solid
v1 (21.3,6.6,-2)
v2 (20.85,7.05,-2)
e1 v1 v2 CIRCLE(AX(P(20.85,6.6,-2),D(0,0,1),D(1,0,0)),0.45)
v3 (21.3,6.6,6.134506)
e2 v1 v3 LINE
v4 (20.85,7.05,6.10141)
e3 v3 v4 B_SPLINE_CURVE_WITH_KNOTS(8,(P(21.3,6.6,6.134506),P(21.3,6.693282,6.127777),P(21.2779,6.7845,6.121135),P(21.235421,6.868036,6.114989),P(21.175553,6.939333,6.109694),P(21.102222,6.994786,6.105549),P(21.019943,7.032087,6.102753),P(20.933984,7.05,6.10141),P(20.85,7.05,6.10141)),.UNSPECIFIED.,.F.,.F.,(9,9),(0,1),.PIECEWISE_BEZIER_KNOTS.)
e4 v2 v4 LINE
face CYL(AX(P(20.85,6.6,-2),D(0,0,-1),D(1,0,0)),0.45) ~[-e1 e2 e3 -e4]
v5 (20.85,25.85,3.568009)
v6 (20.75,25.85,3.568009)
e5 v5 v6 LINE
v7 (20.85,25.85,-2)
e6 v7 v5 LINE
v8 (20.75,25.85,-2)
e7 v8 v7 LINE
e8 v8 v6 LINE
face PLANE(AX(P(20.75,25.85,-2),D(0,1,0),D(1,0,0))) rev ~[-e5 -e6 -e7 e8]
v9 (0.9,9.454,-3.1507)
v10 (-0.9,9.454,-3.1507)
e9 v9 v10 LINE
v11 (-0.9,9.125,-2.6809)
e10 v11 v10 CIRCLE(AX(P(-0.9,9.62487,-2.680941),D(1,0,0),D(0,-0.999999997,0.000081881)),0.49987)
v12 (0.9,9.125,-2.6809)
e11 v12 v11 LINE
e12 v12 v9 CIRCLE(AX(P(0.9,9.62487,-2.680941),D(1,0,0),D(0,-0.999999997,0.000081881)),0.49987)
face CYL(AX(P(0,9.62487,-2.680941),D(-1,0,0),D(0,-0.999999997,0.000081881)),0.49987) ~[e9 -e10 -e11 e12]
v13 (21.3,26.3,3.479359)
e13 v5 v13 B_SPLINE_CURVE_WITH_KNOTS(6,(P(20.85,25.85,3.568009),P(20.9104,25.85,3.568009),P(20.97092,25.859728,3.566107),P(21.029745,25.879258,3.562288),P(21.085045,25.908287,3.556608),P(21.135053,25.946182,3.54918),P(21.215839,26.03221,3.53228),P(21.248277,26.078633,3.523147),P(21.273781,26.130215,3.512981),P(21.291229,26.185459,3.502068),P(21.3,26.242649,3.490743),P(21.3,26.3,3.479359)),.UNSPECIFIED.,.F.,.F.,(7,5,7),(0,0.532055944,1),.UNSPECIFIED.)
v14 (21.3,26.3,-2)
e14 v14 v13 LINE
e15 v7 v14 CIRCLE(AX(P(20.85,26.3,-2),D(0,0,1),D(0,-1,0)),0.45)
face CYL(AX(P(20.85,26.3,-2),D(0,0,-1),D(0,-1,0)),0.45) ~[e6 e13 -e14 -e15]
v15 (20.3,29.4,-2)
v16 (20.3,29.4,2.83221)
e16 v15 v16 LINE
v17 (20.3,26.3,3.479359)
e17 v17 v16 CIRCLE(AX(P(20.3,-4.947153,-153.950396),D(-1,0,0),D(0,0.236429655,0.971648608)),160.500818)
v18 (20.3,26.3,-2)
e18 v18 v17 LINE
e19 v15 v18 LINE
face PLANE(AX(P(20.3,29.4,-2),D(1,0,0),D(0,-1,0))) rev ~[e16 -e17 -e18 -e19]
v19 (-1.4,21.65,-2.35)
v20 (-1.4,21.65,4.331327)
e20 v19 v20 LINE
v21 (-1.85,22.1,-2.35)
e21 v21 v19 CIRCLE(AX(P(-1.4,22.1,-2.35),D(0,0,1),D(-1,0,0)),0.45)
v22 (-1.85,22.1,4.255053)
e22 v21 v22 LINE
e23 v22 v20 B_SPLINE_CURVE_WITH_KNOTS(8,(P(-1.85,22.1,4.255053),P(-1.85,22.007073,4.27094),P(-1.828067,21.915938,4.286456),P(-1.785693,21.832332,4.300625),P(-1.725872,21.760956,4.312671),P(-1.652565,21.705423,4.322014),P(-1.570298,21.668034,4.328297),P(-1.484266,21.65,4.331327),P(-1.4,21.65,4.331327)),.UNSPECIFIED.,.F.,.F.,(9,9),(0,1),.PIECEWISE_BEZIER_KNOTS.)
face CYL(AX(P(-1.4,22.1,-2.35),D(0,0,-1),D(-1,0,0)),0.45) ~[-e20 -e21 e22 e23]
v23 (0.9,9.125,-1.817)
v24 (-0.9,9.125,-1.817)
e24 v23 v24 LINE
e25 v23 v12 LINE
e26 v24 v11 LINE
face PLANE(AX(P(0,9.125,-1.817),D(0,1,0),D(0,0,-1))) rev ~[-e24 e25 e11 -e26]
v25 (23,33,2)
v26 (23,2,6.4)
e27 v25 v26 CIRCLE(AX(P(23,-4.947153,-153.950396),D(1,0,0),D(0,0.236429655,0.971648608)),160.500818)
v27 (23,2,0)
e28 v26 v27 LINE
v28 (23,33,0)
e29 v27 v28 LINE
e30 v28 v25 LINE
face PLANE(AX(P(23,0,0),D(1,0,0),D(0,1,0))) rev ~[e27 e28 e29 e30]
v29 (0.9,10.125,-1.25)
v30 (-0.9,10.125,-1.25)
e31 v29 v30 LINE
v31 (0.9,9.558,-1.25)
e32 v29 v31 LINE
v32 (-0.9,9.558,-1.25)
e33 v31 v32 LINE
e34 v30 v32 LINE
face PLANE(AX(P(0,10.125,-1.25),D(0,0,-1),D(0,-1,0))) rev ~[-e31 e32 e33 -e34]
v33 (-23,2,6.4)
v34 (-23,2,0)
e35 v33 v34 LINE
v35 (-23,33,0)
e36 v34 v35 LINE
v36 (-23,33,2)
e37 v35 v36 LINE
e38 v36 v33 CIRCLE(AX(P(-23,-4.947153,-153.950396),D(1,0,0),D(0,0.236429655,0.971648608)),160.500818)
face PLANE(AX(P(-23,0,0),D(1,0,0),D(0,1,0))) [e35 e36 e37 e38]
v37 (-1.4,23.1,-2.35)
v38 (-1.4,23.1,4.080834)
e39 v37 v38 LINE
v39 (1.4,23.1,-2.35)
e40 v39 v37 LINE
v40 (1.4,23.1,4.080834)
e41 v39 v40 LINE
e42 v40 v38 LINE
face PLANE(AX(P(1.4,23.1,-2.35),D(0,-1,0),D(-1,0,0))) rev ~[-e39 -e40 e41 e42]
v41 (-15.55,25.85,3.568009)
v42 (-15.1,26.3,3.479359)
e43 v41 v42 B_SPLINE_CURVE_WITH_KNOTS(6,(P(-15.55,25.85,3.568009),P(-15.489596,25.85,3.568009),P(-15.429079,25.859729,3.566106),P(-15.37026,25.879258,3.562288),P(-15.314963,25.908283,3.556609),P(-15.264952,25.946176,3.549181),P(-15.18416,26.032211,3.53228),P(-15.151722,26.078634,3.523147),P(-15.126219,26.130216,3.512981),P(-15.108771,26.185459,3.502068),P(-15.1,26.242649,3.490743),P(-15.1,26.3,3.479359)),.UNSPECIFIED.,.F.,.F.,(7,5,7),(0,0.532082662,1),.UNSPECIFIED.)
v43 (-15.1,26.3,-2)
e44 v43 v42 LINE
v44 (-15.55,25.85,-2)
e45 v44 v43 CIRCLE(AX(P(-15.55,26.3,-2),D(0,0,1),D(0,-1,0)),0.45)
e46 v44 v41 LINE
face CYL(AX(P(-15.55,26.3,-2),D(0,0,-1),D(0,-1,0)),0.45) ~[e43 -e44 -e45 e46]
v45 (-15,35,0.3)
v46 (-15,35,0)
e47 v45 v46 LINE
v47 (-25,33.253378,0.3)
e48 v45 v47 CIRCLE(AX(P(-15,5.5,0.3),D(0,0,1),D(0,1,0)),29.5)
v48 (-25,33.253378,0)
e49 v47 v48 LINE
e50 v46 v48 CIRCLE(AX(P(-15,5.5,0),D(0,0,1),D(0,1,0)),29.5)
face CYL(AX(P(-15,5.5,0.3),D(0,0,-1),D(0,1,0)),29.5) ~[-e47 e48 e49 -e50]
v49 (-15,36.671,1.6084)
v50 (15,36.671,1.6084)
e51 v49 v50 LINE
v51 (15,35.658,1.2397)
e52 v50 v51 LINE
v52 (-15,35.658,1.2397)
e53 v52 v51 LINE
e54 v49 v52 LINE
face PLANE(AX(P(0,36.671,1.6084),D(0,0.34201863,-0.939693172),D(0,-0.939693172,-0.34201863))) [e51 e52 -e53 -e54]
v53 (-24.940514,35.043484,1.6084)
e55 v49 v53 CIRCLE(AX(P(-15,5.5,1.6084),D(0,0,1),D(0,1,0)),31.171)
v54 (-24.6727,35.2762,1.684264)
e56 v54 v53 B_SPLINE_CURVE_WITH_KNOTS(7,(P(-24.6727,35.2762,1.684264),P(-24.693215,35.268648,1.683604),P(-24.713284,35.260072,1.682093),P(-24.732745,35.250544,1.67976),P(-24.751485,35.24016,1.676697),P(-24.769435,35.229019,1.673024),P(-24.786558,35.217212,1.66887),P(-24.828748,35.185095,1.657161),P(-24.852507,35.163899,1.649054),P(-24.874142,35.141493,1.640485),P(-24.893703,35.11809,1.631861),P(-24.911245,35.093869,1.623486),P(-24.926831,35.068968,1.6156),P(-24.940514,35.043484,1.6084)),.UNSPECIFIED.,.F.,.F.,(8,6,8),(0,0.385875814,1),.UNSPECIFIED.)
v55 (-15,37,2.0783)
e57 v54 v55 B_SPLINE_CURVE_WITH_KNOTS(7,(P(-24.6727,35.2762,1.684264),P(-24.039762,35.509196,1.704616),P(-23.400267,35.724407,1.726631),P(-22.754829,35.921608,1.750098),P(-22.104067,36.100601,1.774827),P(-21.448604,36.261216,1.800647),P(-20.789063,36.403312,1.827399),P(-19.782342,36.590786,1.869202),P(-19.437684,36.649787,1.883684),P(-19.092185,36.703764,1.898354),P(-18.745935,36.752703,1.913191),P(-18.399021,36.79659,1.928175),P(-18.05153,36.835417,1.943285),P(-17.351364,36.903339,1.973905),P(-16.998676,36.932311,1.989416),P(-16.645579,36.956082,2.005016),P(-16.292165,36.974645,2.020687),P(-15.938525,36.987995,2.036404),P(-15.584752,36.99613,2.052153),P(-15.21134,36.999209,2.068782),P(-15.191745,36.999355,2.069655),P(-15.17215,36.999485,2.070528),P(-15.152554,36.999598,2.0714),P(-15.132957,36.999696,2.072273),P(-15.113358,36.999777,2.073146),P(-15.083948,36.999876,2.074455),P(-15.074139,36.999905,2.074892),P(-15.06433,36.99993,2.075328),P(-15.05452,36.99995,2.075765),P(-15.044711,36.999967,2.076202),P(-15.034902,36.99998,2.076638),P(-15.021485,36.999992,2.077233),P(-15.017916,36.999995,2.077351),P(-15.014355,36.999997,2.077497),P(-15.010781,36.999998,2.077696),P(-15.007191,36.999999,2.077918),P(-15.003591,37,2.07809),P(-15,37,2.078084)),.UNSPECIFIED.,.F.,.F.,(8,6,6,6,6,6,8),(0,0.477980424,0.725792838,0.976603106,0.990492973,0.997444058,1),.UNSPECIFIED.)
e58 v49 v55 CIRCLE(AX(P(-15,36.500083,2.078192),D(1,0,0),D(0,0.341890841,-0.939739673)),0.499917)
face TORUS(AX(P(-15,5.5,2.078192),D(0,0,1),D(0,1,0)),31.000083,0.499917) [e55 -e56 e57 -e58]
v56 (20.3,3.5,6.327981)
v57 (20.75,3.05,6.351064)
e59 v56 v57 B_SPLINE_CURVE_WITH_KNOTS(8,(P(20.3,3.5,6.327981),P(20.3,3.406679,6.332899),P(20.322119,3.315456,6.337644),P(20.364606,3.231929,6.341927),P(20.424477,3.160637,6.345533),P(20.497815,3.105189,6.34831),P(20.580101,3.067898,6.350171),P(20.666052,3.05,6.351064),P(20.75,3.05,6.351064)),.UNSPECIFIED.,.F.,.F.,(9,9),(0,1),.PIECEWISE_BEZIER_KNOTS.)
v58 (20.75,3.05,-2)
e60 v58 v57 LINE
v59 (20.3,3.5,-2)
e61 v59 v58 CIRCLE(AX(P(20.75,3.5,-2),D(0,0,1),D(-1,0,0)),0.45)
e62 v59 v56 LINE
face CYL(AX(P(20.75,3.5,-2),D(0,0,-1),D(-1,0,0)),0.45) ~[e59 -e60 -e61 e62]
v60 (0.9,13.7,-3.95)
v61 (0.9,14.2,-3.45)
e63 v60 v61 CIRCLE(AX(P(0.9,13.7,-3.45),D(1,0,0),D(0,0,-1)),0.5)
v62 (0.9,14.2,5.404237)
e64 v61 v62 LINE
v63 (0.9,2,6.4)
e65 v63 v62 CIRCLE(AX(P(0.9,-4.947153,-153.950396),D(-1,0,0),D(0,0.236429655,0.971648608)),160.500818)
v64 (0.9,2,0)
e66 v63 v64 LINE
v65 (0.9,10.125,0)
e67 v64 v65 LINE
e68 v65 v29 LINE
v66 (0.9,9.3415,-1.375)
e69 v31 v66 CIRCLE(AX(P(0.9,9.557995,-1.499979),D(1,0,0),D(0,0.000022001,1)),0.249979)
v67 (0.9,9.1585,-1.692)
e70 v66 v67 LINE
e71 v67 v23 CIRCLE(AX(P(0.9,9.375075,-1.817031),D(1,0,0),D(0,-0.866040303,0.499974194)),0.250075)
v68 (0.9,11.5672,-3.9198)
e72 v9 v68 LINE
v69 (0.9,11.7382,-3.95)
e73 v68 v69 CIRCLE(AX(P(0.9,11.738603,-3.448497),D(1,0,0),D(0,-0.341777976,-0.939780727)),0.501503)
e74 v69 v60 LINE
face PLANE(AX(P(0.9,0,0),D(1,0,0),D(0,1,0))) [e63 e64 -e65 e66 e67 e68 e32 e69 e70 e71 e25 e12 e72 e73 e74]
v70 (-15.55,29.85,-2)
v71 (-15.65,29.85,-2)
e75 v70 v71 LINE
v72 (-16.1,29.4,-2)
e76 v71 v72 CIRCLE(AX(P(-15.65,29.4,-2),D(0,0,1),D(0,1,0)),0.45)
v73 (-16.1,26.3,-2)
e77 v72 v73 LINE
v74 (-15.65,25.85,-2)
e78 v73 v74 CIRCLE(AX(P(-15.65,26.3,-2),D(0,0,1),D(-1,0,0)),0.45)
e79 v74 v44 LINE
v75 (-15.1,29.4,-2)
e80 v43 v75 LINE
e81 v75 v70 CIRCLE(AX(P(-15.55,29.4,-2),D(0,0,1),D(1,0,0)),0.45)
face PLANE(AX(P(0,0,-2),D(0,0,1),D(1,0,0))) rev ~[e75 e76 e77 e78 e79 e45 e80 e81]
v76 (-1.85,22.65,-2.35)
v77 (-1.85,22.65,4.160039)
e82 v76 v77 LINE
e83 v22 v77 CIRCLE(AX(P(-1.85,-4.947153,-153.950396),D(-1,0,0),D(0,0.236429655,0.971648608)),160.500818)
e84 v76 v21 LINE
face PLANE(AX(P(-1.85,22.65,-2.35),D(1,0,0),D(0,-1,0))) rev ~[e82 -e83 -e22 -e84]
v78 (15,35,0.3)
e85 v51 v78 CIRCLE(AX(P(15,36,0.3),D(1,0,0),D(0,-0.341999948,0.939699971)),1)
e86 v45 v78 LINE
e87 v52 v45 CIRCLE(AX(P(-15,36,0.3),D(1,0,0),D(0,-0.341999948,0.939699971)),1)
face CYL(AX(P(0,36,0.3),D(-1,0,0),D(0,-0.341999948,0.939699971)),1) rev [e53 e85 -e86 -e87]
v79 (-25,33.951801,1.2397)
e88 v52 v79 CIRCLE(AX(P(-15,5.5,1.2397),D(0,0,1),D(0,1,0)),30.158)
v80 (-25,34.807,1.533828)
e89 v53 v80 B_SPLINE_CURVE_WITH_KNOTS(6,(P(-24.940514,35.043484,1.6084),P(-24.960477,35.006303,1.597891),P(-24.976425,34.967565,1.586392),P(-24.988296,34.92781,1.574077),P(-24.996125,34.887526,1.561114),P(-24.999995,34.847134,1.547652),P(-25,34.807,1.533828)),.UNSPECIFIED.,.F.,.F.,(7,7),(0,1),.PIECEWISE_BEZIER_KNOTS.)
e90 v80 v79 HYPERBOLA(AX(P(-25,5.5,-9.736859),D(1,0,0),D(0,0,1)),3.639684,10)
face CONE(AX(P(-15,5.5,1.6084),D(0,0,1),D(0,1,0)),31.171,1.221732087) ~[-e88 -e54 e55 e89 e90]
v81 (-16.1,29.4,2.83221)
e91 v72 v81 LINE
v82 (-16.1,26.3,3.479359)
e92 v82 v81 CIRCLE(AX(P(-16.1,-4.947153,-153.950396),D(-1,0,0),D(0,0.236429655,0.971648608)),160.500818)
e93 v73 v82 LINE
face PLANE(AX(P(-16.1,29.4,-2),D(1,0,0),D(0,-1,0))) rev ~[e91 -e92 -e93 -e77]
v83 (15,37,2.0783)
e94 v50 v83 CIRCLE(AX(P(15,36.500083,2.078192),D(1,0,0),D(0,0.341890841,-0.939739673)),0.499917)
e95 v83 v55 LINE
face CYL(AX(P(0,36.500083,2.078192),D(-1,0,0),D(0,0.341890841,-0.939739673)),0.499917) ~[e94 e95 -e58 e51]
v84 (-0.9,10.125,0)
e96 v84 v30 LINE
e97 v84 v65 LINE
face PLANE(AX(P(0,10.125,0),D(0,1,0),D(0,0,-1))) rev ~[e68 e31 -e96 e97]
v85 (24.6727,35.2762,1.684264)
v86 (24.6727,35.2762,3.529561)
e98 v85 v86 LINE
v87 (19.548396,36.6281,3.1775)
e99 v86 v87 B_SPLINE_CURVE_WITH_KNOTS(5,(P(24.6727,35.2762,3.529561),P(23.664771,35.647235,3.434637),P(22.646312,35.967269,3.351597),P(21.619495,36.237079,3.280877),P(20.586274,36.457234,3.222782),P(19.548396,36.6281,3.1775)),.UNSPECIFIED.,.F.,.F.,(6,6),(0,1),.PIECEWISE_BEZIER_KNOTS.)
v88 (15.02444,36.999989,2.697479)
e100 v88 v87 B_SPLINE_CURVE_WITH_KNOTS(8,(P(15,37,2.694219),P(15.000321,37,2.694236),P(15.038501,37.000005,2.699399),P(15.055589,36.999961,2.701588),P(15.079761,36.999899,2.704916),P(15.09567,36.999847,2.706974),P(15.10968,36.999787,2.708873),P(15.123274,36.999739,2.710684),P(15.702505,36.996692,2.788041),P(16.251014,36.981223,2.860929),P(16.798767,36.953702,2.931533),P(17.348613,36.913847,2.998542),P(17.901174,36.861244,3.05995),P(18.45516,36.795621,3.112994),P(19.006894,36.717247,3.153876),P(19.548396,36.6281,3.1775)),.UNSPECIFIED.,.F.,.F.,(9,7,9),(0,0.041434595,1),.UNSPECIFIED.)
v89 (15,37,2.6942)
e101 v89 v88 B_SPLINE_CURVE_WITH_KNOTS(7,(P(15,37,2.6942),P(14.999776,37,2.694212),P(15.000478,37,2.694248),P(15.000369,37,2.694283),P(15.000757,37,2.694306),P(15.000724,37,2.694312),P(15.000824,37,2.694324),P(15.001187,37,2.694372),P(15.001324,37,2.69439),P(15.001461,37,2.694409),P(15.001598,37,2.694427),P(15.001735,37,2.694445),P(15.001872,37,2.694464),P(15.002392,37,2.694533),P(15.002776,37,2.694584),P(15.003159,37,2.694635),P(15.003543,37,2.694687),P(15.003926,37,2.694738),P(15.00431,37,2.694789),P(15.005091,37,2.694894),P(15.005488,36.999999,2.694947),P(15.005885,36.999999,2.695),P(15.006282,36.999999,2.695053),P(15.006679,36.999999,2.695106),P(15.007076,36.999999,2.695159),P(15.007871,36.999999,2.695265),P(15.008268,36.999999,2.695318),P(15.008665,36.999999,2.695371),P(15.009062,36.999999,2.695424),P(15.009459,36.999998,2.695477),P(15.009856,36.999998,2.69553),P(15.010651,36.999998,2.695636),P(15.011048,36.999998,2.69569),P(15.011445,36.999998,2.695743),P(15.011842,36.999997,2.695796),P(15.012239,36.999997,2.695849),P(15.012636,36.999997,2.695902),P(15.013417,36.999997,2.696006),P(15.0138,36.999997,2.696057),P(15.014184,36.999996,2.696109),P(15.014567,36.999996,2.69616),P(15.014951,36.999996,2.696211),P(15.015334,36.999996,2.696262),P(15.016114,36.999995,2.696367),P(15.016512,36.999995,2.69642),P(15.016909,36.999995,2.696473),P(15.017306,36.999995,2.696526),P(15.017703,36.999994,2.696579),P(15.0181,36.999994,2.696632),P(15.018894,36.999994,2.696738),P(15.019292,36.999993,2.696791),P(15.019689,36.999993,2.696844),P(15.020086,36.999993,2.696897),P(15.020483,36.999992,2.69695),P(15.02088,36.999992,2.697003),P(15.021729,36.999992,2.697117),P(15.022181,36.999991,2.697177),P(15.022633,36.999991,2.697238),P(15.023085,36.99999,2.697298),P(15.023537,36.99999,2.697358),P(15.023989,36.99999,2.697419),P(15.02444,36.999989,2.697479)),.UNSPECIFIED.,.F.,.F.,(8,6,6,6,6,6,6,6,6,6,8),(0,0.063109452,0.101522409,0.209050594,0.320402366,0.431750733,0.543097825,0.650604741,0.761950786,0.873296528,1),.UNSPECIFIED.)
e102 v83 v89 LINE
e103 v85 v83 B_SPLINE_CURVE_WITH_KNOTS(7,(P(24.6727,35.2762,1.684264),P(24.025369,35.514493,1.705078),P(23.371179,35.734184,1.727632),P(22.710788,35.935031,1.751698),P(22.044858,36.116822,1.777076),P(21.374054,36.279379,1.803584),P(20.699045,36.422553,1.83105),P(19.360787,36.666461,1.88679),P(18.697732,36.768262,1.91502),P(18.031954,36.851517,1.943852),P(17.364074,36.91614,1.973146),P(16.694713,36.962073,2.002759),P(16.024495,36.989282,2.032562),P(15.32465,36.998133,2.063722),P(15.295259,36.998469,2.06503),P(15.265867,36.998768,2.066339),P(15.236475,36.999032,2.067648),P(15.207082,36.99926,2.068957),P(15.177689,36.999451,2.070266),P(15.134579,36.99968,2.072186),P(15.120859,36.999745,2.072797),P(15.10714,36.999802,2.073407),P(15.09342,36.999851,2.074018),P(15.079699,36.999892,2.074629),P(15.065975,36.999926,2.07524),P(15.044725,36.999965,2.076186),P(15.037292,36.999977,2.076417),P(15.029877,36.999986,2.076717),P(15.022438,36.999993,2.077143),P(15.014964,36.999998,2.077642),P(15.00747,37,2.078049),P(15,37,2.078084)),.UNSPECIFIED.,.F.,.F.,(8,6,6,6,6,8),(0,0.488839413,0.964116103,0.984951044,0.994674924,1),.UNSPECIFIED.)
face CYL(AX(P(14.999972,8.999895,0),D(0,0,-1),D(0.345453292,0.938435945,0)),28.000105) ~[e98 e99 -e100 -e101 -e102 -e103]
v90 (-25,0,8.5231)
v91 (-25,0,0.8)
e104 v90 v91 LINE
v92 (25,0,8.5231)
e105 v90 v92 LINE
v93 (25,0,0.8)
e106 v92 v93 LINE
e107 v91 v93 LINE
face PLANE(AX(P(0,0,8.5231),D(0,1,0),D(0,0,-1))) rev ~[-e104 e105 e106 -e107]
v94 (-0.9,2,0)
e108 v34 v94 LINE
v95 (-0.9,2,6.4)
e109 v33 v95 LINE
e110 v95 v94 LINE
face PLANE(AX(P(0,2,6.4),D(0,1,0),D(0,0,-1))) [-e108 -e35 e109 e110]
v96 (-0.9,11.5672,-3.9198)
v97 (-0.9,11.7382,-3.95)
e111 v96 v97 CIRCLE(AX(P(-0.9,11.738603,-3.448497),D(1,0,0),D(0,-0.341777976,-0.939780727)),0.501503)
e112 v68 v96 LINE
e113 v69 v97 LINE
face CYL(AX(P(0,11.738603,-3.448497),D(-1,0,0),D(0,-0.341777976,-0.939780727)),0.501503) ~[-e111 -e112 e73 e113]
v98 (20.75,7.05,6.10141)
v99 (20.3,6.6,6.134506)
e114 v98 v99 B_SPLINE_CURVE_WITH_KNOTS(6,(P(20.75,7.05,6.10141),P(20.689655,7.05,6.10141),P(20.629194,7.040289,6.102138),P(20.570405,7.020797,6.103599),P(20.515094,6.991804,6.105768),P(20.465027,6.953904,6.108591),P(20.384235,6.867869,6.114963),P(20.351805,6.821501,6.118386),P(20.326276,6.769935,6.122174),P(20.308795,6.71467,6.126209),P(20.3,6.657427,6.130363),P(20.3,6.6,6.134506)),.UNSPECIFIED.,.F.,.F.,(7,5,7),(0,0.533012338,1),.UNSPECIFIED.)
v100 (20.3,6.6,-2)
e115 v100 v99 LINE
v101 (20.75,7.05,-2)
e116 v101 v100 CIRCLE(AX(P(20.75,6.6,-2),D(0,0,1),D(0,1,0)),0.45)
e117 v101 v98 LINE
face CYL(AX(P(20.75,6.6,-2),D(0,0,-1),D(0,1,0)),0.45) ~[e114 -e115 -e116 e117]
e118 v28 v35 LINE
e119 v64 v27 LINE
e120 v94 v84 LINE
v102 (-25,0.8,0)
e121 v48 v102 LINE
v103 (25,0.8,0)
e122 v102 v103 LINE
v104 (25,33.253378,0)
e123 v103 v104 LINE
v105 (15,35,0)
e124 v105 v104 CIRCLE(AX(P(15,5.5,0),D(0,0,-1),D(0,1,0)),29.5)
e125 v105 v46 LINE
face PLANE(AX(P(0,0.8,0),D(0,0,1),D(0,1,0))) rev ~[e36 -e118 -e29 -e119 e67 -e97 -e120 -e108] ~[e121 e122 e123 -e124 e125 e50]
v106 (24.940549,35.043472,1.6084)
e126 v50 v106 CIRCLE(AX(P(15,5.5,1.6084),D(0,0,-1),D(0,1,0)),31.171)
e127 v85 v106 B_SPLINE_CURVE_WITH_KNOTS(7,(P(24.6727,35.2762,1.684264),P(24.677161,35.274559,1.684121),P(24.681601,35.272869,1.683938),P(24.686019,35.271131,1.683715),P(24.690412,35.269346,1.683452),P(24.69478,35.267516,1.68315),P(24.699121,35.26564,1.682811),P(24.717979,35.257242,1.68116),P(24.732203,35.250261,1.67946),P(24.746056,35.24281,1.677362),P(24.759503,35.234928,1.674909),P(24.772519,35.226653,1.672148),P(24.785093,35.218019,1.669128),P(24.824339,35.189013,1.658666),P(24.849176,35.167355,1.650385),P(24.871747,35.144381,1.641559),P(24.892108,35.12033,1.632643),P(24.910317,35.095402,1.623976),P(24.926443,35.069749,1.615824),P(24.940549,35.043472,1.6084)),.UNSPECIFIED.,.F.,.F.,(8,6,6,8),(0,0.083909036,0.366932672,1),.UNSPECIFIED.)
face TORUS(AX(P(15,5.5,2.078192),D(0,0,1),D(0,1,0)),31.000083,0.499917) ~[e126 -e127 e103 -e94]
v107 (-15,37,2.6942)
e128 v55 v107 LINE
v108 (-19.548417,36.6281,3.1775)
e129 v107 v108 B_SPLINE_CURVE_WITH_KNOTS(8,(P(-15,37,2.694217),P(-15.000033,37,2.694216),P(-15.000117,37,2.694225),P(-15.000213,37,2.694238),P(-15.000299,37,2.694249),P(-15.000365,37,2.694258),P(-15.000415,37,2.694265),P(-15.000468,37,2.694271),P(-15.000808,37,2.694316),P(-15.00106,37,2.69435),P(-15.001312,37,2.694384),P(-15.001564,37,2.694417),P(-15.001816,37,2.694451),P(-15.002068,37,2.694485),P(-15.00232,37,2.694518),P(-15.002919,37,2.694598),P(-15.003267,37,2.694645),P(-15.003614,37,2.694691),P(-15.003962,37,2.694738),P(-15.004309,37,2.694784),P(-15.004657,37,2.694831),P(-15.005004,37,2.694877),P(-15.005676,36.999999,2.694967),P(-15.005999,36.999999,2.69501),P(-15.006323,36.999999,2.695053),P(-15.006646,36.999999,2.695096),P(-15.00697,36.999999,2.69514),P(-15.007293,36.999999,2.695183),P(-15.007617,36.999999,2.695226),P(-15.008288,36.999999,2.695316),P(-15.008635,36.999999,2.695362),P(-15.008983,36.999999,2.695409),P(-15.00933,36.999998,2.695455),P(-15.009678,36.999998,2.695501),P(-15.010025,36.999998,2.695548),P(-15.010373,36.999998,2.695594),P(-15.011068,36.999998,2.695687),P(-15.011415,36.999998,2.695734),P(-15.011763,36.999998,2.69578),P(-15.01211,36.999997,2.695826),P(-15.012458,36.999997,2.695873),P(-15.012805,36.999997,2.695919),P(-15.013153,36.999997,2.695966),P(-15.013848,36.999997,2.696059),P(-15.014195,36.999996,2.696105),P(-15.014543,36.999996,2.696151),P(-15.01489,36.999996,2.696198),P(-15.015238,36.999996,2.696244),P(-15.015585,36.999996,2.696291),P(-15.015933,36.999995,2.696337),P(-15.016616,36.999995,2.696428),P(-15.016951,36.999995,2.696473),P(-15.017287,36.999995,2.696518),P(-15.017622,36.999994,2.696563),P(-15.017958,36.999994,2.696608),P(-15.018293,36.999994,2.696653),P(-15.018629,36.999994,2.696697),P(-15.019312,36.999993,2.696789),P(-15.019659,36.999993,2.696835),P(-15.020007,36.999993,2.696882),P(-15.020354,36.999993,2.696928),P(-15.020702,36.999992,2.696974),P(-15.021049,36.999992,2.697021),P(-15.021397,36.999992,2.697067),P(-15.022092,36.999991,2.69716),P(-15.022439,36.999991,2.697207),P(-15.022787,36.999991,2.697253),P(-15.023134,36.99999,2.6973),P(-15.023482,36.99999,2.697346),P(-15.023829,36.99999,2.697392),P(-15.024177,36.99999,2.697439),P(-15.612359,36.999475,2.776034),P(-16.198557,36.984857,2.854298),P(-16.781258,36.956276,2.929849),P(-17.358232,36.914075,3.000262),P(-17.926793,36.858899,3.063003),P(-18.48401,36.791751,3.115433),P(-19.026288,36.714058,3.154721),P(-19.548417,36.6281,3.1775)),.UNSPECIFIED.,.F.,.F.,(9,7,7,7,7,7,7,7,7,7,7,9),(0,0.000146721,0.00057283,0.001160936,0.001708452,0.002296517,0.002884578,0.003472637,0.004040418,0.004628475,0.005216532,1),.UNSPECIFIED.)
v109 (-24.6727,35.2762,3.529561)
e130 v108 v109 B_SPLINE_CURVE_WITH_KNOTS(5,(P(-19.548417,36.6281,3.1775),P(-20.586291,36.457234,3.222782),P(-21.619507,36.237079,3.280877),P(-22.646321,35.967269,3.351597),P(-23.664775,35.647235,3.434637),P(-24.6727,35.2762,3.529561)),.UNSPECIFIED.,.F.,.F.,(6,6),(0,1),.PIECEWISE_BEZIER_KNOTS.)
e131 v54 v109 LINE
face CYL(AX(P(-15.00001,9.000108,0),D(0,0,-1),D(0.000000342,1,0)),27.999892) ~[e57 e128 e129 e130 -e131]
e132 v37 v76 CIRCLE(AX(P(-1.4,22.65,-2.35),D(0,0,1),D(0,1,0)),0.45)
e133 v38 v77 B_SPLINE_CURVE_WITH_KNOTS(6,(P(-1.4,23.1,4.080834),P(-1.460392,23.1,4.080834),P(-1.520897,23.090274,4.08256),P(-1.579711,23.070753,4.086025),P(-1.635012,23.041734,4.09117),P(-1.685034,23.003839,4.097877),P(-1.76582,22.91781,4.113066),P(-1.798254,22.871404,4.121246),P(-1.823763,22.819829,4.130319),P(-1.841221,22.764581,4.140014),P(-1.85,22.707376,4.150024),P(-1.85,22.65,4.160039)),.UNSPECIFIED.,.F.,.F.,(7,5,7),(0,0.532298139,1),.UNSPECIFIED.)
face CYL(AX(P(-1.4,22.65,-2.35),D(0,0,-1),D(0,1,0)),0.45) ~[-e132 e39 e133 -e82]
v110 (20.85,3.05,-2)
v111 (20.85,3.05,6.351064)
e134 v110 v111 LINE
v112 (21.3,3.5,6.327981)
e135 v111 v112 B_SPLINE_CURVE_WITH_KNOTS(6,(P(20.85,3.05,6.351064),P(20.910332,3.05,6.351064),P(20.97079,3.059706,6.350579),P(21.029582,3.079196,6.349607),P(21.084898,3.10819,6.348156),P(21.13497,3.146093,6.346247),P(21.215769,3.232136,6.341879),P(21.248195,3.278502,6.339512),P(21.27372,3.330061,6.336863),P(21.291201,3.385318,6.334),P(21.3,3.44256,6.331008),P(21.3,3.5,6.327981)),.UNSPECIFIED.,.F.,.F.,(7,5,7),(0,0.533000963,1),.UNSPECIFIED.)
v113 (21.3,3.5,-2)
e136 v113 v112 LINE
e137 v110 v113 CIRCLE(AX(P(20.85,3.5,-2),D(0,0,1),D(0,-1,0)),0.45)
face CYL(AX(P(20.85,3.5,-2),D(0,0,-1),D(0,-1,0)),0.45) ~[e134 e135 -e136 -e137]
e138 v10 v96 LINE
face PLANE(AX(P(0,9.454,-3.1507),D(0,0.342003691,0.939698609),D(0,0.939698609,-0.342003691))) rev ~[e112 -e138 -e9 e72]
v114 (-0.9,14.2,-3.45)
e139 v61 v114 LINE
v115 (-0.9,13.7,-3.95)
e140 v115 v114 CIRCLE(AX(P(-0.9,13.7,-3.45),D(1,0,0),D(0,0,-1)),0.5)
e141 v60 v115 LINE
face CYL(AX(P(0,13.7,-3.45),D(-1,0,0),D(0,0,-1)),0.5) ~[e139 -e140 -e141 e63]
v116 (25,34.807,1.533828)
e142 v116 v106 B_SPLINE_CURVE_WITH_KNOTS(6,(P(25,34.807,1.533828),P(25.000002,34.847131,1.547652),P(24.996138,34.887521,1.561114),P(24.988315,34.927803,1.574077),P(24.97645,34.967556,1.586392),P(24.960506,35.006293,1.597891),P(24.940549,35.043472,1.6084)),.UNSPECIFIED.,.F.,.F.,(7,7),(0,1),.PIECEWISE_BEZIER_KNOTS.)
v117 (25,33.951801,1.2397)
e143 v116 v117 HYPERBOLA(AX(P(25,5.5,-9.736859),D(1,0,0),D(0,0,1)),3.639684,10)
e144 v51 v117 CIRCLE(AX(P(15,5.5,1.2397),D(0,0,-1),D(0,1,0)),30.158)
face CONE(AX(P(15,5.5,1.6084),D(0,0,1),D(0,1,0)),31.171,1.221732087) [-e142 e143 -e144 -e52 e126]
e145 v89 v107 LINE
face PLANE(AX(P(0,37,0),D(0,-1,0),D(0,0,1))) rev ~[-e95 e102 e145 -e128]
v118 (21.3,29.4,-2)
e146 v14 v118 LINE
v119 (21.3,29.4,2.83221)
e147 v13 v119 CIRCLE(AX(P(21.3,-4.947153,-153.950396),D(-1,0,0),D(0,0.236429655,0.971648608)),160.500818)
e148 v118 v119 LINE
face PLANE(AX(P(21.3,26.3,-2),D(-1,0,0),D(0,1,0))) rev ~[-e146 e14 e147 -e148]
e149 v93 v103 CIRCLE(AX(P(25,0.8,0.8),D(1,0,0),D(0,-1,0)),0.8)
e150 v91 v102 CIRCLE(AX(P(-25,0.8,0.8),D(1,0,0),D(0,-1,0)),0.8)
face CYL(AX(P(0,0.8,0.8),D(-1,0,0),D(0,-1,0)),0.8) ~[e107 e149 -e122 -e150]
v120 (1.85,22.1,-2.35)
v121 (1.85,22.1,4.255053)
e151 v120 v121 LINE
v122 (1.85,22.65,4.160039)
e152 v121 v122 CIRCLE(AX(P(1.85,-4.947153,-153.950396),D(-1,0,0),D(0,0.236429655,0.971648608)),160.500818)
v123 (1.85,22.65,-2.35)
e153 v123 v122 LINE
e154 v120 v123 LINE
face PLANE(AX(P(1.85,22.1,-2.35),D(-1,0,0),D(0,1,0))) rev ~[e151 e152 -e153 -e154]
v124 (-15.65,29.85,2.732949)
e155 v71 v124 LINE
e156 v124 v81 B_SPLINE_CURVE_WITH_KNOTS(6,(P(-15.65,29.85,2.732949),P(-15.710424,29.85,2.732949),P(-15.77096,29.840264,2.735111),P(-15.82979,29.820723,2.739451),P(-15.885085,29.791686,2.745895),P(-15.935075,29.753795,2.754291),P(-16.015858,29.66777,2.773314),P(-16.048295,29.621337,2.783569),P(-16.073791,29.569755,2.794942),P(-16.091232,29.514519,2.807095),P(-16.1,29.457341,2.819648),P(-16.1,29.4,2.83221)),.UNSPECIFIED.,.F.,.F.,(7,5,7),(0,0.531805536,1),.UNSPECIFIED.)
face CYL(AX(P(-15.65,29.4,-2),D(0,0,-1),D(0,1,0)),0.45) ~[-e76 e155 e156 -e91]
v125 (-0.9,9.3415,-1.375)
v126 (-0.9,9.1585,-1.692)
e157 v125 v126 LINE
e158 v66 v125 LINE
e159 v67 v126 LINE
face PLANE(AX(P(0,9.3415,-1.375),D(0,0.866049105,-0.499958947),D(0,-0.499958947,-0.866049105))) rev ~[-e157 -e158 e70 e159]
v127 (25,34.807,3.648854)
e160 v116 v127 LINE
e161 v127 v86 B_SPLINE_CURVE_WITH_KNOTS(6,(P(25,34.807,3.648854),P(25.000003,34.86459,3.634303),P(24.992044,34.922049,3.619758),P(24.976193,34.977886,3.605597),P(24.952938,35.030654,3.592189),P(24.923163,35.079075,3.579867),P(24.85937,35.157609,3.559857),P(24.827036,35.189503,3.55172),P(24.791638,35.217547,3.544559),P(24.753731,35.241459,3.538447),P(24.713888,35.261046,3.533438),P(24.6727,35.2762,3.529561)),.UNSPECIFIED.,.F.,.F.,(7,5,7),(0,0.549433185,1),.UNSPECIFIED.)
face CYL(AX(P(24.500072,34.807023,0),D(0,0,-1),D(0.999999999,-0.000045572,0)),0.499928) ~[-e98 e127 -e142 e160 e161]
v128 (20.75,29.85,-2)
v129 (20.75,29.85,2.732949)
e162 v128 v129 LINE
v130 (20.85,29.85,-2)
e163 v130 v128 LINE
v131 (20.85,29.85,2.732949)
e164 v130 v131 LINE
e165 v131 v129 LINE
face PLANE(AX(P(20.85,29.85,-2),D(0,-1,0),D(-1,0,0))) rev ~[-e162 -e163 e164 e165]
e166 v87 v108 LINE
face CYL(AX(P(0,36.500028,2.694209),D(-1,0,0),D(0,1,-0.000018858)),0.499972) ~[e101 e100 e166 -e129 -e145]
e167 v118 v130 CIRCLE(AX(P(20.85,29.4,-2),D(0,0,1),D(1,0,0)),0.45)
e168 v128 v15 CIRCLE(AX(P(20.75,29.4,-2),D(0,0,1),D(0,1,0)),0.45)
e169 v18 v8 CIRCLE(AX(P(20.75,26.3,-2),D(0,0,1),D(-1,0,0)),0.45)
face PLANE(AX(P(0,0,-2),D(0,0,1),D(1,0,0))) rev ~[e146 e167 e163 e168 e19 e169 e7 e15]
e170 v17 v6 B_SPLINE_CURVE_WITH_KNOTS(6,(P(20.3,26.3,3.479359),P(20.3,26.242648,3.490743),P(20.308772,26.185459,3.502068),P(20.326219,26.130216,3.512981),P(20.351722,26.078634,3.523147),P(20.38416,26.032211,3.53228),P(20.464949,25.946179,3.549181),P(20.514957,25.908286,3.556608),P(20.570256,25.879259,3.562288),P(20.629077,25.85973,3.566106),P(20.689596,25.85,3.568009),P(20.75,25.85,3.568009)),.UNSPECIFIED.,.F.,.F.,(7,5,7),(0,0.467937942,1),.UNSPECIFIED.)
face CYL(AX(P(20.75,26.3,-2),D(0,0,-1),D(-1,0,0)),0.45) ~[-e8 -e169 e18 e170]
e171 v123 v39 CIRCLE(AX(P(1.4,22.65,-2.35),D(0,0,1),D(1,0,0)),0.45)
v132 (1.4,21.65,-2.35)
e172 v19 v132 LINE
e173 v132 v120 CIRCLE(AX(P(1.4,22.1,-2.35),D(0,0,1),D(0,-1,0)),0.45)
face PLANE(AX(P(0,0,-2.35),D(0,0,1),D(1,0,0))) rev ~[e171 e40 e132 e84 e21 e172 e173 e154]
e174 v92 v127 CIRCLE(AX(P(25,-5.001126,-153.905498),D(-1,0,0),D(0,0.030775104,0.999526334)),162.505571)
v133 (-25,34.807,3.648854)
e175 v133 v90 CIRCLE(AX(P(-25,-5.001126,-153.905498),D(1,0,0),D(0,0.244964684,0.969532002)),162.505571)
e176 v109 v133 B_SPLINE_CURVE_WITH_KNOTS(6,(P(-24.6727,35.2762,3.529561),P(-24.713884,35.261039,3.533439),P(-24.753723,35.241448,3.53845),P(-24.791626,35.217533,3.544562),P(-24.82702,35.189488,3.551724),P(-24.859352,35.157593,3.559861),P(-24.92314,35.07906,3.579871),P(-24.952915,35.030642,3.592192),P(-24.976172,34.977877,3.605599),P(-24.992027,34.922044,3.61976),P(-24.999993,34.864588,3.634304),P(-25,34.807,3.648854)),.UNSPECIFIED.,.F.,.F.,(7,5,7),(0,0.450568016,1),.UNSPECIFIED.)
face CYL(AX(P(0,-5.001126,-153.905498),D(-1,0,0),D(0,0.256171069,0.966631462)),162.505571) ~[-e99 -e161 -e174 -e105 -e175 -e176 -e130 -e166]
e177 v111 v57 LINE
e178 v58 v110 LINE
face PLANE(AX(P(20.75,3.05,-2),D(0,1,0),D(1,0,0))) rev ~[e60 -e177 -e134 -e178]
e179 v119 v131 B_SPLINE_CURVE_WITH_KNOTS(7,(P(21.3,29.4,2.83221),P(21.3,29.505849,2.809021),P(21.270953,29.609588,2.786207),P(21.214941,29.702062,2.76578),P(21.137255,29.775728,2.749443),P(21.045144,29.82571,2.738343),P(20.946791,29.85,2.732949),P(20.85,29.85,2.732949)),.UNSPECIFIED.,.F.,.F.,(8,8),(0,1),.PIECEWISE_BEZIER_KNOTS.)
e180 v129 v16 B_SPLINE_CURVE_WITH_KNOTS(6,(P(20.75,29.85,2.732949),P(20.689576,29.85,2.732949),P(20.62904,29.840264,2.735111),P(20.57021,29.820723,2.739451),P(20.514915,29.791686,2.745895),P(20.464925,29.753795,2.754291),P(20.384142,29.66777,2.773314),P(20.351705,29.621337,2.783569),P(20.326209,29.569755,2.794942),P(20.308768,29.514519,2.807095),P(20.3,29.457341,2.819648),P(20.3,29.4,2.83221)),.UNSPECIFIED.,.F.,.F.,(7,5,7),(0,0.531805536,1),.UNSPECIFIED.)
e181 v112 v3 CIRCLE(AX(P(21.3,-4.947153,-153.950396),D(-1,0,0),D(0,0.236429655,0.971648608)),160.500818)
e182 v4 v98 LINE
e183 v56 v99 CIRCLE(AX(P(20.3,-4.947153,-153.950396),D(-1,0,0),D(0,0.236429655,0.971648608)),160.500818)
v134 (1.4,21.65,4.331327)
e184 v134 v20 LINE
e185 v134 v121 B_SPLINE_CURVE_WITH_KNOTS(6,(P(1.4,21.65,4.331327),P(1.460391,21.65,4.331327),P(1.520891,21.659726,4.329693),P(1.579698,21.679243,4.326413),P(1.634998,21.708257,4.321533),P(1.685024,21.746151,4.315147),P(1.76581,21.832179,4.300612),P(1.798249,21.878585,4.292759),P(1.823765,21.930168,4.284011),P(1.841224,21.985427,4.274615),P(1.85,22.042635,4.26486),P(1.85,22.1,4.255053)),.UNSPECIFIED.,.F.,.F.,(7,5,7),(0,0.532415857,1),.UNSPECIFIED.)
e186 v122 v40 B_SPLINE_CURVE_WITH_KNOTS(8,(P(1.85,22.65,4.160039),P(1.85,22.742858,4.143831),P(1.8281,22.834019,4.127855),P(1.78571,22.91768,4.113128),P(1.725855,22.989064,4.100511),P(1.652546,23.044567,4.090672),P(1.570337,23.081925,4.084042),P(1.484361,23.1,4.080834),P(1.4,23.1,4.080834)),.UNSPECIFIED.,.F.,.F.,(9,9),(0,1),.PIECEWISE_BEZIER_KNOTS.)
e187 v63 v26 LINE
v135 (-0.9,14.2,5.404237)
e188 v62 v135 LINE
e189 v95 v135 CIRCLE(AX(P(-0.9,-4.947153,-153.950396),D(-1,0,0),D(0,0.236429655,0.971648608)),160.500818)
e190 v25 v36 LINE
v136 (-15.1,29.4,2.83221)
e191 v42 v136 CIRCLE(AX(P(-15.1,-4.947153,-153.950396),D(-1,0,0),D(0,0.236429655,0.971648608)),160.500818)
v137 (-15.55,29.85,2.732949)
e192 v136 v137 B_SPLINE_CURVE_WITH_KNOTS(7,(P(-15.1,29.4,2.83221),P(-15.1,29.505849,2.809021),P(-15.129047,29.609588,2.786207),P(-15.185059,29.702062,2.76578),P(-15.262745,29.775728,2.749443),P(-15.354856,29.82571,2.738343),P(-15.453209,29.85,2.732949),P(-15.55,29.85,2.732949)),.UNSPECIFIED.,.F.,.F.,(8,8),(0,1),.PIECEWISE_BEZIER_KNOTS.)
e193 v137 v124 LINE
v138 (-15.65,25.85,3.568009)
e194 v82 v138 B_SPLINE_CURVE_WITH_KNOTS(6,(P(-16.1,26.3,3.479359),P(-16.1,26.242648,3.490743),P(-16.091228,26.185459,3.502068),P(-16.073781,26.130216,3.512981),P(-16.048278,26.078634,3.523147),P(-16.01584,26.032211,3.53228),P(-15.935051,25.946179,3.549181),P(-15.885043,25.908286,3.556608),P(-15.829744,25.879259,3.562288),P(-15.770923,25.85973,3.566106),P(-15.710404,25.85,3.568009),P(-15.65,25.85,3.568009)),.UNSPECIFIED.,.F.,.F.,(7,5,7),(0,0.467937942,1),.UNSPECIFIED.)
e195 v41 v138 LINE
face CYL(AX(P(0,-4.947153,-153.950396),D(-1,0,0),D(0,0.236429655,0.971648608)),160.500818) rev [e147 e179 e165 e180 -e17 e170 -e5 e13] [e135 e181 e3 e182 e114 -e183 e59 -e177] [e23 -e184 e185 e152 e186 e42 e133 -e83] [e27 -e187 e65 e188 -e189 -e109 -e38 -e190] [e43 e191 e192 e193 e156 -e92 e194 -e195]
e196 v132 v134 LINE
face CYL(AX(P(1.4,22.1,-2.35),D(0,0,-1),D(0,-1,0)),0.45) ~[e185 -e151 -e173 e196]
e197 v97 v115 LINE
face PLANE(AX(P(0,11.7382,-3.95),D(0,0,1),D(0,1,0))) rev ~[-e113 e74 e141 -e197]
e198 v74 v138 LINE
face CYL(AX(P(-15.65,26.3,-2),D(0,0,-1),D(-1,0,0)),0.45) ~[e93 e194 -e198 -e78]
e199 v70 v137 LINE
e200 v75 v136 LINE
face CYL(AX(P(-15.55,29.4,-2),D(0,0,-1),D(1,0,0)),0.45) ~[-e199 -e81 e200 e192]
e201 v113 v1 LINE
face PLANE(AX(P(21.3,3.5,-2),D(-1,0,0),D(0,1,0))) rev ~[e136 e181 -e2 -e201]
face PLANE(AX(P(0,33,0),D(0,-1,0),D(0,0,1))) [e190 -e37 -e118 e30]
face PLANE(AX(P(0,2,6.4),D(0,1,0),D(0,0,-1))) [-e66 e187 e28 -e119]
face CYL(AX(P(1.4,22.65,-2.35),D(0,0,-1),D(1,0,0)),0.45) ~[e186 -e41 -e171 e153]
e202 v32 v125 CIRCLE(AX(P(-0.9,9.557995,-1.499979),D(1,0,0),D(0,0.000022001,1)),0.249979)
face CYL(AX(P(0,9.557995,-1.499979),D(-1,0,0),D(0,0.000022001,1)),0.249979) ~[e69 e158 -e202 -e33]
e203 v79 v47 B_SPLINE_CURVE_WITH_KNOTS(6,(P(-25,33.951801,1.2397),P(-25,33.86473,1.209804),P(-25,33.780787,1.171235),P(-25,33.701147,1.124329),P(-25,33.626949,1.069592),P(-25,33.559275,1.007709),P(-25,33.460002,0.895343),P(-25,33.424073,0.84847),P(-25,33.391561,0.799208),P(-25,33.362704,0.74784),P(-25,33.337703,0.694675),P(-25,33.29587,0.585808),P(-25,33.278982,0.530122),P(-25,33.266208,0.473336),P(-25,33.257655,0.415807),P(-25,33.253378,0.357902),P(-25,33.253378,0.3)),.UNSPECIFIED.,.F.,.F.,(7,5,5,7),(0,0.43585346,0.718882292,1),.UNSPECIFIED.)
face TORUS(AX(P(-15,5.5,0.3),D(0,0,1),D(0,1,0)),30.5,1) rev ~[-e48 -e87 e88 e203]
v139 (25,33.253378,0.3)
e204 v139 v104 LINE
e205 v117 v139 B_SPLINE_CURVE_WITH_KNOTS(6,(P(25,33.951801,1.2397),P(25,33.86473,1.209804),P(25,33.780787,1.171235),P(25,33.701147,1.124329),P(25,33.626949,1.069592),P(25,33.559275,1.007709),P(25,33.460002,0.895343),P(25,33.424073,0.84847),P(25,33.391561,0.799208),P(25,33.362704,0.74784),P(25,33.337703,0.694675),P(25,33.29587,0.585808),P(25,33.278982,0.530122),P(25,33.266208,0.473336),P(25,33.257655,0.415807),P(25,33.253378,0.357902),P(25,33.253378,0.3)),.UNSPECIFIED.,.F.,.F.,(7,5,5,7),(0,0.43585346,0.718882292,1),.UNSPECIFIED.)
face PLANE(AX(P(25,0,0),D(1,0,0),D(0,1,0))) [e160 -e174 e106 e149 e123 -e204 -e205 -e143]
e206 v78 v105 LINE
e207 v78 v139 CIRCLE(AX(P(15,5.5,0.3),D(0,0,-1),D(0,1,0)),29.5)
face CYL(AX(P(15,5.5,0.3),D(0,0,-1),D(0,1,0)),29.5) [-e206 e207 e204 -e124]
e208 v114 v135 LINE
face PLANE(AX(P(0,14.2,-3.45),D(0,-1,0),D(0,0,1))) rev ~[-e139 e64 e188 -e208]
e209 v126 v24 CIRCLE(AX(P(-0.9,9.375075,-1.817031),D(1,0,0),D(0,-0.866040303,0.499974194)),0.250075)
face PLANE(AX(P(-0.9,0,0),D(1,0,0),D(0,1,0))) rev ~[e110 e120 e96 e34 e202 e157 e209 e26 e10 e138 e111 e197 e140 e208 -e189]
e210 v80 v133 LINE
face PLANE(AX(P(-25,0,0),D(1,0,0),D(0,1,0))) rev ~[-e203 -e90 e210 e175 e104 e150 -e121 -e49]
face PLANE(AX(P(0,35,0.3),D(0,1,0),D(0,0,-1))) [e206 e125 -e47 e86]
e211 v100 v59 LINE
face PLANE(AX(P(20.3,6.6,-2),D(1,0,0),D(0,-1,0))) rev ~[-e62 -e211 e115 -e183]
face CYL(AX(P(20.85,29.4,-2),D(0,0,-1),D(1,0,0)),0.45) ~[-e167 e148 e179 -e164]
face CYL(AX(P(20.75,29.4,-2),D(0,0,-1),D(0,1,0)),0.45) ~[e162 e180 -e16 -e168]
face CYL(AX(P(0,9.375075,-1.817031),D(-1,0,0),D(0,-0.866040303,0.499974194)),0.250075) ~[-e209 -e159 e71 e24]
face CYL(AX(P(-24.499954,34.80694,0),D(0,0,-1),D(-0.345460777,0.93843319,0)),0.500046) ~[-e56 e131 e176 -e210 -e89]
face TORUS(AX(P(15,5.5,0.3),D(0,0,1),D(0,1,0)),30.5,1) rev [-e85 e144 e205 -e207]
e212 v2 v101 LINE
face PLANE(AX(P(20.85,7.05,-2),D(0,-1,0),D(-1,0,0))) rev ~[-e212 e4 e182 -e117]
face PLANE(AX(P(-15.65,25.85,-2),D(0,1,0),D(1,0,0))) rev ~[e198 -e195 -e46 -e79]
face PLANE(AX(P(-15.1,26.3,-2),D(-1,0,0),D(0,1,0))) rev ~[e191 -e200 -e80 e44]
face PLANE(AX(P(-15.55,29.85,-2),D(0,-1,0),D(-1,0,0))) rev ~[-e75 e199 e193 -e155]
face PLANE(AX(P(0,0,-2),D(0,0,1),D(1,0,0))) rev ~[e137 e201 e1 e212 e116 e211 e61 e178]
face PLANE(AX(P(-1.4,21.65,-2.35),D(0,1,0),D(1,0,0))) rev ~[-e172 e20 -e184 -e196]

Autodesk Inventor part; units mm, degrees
sketch "Sketch_12" plane through (0, 0, 0) normal (1, 0, 0) x (0, 1, 0)
  line L0 (0, 8.5231) -> (0, 0.8)
  arc A0 (0, 0.8) -> (0.8, 0) centre (0.8, 0.8) ccw
  line L1 (0.8, 0) -> (37, 0)
  line L2 (37, 0) -> (37, 2.6942)
  arc A1 (37, 2.6942) -> (36.6281, 3.1775) centre (36.5, 2.6942) ccw
  arc A2 (36.6281, 3.1775) -> (0, 8.5231) centre (-5, -153.9) ccw
extrude "Extrusion1" add sketch "Sketch_12" along normal mid plane 50
sketch "Sketch_13" plane through (0, 0, 0) normal (0, 0, 1) x (1, 0, 0)
  line L0 (-28, 32) -> (-25, 32)
  line L1 (-25, 32) -> (-25, 34.807)
  arc A0 (-24.6727, 35.2762) -> (-25, 34.807) centre (-24.5, 34.807) ccw
  arc A1 (-15, 37) -> (-24.6727, 35.2762) centre (-15, 9) ccw
  line L2 (-15, 37) -> (15, 37)
  arc A2 (24.6727, 35.2762) -> (15, 37) centre (15, 9) ccw
  arc A3 (25, 34.807) -> (24.6727, 35.2762) centre (24.5, 34.807) ccw
  line L3 (25, 34.807) -> (25, 32)
  line L4 (25, 32) -> (28, 32)
  line L5 (28, 32) -> (28, 40)
  line L6 (28, 40) -> (-28, 40)
  line L7 (-28, 40) -> (-28, 32)
extrude "Extrusion2" cut sketch "Sketch_13" along normal blind 5
sketch "Sketch_2" plane through (0, 0, 0) normal (1, 0, 0) x (0, 1, 0)
  arc A0 (36.671, 1.6084) -> (37, 2.0783) centre (36.5, 2.0783) ccw
  line L0 (36.671, 1.6084) -> (35.658, 1.2397)
  arc A1 (35.658, 1.2397) -> (35, 0.3) centre (36, 0.3) ccw
  line L1 (35, 0.3) -> (35, 0)
  line L2 (35, 0) -> (37, 0)
  line L3 (37, 0) -> (37, 2.0783)
extrude "Extrusion3" cut sketch "Sketch_2" along normal mid plane 30
sketch "Sketch_3" plane through (-15, 0, 0) normal (1, 0, 0) x (0, 0, -1)
  line L0 (2.0783, 5.5) -> (0, 5.5)
  arc A0 (-1.6084, 36.671) -> (-2.0783, 37) centre (-2.0783, 36.5) ccw
  line L1 (-1.6084, 36.671) -> (-1.2397, 35.658)
  arc A1 (-1.2397, 35.658) -> (-0.3, 35) centre (-0.3, 36) ccw
  line L2 (-0.3, 35) -> (0, 35)
  line L3 (0, 35) -> (0, 38)
  line L4 (0, 38) -> (-2.0783, 38)
  line L5 (-2.0783, 38) -> (-2.0783, 37)
revolve "Revolution1" cut sketch "Sketch_3" angle 30 about axis through (-15, 5.5, -2.0783) along (0, 0, 1)
sketch "Sketch_4" plane through (15, 0, 0) normal (1, 0, 0) x (0, 0, -1)
  line L0 (2.0783, 5.5) -> (0, 5.5)
  arc A0 (-1.6084, 36.671) -> (-2.0783, 37) centre (-2.0783, 36.5) ccw
  line L1 (-1.6084, 36.671) -> (-1.2397, 35.658)
  arc A1 (-1.2397, 35.658) -> (-0.3, 35) centre (-0.3, 36) ccw
  line L2 (-0.3, 35) -> (0, 35)
  line L3 (0, 35) -> (0, 38)
  line L4 (0, 38) -> (-2.0783, 38)
  line L5 (-2.0783, 38) -> (-2.0783, 37)
revolve "Revolution2" cut sketch "Sketch_4" angle 30 about axis through (15, 5.5, -2.0783) along (0, 0, -1)
sketch "Sketch_5" plane through (0, 0, 0) normal (1, 0, 0) x (0, 1, 0)
  line L0 (2, 6.4) -> (2, 0)
  line L1 (2, 0) -> (33, 0)
  line L2 (33, 0) -> (33, 2)
  arc A0 (33, 2) -> (2, 6.4) centre (-4.947, -153.9496) ccw
extrude "Extrusion4" cut sketch "Sketch_5" along normal mid plane 46
sketch "Sketch_6" plane through (0, 0, 0) normal (1, 0, 0) x (0, 1, 0)
  line L0 (2, 6.55) -> (2, 0)
  line L1 (2, 0) -> (10.125, 0)
  line L2 (10.125, 0) -> (10.125, -1.25)
  line L3 (10.125, -1.25) -> (9.558, -1.25)
  arc A0 (9.558, -1.25) -> (9.3415, -1.375) centre (9.558, -1.5) ccw
  line L4 (9.3415, -1.375) -> (9.1585, -1.692)
  arc A1 (9.1585, -1.692) -> (9.125, -1.817) centre (9.375, -1.817) ccw
  line L5 (9.125, -1.817) -> (9.125, -2.6809)
  arc A2 (9.125, -2.6809) -> (9.454, -3.1507) centre (9.625, -2.6809) ccw
  line L6 (9.454, -3.1507) -> (11.5672, -3.9198)
  arc A3 (11.5672, -3.9198) -> (11.7382, -3.95) centre (11.7382, -3.45) ccw
  line L7 (11.7382, -3.95) -> (13.7, -3.95)
  arc A4 (13.7, -3.95) -> (14.2, -3.45) centre (13.7, -3.45) ccw
  line L8 (14.2, -3.45) -> (14.2, 6.55)
  line L9 (14.2, 6.55) -> (2, 6.55)
extrude "Extrusion5" add sketch "Sketch_6" along normal mid plane 1.8
sketch "Sketch_1" plane through (0, 0, -2) normal (0, 0, 1) x (1, 0, 0)
  line L0 (20.3, 6.6) -> (20.3, 3.5)
  arc A0 (20.3, 3.5) -> (20.75, 3.05) centre (20.75, 3.5) ccw
  line L1 (20.75, 3.05) -> (20.85, 3.05)
  arc A1 (20.85, 3.05) -> (21.3, 3.5) centre (20.85, 3.5) ccw
  line L2 (21.3, 3.5) -> (21.3, 6.6)
  arc A2 (21.3, 6.6) -> (20.85, 7.05) centre (20.85, 6.6) ccw
  line L3 (20.85, 7.05) -> (20.75, 7.05)
  arc A3 (20.75, 7.05) -> (20.3, 6.6) centre (20.75, 6.6) ccw
extrude "Extrusion6" add sketch "Sketch_1" along normal blind 9
sketch "Sketch_7" plane through (0, 0, -2) normal (0, 0, 1) x (1, 0, 0)
  line L0 (20.3, 29.4) -> (20.3, 26.3)
  arc A0 (20.3, 26.3) -> (20.75, 25.85) centre (20.75, 26.3) ccw
  line L1 (20.75, 25.85) -> (20.85, 25.85)
  arc A1 (20.85, 25.85) -> (21.3, 26.3) centre (20.85, 26.3) ccw
  line L2 (21.3, 26.3) -> (21.3, 29.4)
  arc A2 (21.3, 29.4) -> (20.85, 29.85) centre (20.85, 29.4) ccw
  line L3 (20.85, 29.85) -> (20.75, 29.85)
  arc A3 (20.75, 29.85) -> (20.3, 29.4) centre (20.75, 29.4) ccw
extrude "Extrusion7" add sketch "Sketch_7" along normal blind 6
sketch "Sketch_8" plane through (0, 0, -2) normal (0, 0, 1) x (1, 0, 0)
  line L0 (-16.1, 29.4) -> (-16.1, 26.3)
  arc A0 (-16.1, 26.3) -> (-15.65, 25.85) centre (-15.65, 26.3) ccw
  line L1 (-15.65, 25.85) -> (-15.55, 25.85)
  arc A1 (-15.55, 25.85) -> (-15.1, 26.3) centre (-15.55, 26.3) ccw
  line L2 (-15.1, 26.3) -> (-15.1, 29.4)
  arc A2 (-15.1, 29.4) -> (-15.55, 29.85) centre (-15.55, 29.4) ccw
  line L3 (-15.55, 29.85) -> (-15.65, 29.85)
  arc A3 (-15.65, 29.85) -> (-16.1, 29.4) centre (-15.65, 29.4) ccw
extrude "Extrusion8" add sketch "Sketch_8" along normal blind 6
sketch "Sketch_9" plane through (0, 0, -2.35) normal (0, 0, 1) x (1, 0, 0)
  line L0 (-1.85, 22.65) -> (-1.85, 22.1)
  arc A0 (-1.85, 22.1) -> (-1.4, 21.65) centre (-1.4, 22.1) ccw
  line L1 (-1.4, 21.65) -> (1.4, 21.65)
  arc A1 (1.4, 21.65) -> (1.85, 22.1) centre (1.4, 22.1) ccw
  line L2 (1.85, 22.1) -> (1.85, 22.65)
  arc A2 (1.85, 22.65) -> (1.4, 23.1) centre (1.4, 22.65) ccw
  line L3 (1.4, 23.1) -> (-1.4, 23.1)
  arc A3 (-1.4, 23.1) -> (-1.85, 22.65) centre (-1.4, 22.65) ccw
extrude "Extrusion9" add sketch "Sketch_9" along normal blind 7.35
ref_plane "ANBAU_XY" through (0, 0, 0) normal (0, 1, 0) x (1, 0, 0)
ref_plane "ANBAU_YZ" through (0, 0, 0) normal (1, 0, 0) x (0, 0, -1)
ref_plane "ANBAU_ZX" through (0, 0, 0) normal (0, 0, -1) x (0, 1, 0)
properties part number "5395254 CAFC-C6-C"
